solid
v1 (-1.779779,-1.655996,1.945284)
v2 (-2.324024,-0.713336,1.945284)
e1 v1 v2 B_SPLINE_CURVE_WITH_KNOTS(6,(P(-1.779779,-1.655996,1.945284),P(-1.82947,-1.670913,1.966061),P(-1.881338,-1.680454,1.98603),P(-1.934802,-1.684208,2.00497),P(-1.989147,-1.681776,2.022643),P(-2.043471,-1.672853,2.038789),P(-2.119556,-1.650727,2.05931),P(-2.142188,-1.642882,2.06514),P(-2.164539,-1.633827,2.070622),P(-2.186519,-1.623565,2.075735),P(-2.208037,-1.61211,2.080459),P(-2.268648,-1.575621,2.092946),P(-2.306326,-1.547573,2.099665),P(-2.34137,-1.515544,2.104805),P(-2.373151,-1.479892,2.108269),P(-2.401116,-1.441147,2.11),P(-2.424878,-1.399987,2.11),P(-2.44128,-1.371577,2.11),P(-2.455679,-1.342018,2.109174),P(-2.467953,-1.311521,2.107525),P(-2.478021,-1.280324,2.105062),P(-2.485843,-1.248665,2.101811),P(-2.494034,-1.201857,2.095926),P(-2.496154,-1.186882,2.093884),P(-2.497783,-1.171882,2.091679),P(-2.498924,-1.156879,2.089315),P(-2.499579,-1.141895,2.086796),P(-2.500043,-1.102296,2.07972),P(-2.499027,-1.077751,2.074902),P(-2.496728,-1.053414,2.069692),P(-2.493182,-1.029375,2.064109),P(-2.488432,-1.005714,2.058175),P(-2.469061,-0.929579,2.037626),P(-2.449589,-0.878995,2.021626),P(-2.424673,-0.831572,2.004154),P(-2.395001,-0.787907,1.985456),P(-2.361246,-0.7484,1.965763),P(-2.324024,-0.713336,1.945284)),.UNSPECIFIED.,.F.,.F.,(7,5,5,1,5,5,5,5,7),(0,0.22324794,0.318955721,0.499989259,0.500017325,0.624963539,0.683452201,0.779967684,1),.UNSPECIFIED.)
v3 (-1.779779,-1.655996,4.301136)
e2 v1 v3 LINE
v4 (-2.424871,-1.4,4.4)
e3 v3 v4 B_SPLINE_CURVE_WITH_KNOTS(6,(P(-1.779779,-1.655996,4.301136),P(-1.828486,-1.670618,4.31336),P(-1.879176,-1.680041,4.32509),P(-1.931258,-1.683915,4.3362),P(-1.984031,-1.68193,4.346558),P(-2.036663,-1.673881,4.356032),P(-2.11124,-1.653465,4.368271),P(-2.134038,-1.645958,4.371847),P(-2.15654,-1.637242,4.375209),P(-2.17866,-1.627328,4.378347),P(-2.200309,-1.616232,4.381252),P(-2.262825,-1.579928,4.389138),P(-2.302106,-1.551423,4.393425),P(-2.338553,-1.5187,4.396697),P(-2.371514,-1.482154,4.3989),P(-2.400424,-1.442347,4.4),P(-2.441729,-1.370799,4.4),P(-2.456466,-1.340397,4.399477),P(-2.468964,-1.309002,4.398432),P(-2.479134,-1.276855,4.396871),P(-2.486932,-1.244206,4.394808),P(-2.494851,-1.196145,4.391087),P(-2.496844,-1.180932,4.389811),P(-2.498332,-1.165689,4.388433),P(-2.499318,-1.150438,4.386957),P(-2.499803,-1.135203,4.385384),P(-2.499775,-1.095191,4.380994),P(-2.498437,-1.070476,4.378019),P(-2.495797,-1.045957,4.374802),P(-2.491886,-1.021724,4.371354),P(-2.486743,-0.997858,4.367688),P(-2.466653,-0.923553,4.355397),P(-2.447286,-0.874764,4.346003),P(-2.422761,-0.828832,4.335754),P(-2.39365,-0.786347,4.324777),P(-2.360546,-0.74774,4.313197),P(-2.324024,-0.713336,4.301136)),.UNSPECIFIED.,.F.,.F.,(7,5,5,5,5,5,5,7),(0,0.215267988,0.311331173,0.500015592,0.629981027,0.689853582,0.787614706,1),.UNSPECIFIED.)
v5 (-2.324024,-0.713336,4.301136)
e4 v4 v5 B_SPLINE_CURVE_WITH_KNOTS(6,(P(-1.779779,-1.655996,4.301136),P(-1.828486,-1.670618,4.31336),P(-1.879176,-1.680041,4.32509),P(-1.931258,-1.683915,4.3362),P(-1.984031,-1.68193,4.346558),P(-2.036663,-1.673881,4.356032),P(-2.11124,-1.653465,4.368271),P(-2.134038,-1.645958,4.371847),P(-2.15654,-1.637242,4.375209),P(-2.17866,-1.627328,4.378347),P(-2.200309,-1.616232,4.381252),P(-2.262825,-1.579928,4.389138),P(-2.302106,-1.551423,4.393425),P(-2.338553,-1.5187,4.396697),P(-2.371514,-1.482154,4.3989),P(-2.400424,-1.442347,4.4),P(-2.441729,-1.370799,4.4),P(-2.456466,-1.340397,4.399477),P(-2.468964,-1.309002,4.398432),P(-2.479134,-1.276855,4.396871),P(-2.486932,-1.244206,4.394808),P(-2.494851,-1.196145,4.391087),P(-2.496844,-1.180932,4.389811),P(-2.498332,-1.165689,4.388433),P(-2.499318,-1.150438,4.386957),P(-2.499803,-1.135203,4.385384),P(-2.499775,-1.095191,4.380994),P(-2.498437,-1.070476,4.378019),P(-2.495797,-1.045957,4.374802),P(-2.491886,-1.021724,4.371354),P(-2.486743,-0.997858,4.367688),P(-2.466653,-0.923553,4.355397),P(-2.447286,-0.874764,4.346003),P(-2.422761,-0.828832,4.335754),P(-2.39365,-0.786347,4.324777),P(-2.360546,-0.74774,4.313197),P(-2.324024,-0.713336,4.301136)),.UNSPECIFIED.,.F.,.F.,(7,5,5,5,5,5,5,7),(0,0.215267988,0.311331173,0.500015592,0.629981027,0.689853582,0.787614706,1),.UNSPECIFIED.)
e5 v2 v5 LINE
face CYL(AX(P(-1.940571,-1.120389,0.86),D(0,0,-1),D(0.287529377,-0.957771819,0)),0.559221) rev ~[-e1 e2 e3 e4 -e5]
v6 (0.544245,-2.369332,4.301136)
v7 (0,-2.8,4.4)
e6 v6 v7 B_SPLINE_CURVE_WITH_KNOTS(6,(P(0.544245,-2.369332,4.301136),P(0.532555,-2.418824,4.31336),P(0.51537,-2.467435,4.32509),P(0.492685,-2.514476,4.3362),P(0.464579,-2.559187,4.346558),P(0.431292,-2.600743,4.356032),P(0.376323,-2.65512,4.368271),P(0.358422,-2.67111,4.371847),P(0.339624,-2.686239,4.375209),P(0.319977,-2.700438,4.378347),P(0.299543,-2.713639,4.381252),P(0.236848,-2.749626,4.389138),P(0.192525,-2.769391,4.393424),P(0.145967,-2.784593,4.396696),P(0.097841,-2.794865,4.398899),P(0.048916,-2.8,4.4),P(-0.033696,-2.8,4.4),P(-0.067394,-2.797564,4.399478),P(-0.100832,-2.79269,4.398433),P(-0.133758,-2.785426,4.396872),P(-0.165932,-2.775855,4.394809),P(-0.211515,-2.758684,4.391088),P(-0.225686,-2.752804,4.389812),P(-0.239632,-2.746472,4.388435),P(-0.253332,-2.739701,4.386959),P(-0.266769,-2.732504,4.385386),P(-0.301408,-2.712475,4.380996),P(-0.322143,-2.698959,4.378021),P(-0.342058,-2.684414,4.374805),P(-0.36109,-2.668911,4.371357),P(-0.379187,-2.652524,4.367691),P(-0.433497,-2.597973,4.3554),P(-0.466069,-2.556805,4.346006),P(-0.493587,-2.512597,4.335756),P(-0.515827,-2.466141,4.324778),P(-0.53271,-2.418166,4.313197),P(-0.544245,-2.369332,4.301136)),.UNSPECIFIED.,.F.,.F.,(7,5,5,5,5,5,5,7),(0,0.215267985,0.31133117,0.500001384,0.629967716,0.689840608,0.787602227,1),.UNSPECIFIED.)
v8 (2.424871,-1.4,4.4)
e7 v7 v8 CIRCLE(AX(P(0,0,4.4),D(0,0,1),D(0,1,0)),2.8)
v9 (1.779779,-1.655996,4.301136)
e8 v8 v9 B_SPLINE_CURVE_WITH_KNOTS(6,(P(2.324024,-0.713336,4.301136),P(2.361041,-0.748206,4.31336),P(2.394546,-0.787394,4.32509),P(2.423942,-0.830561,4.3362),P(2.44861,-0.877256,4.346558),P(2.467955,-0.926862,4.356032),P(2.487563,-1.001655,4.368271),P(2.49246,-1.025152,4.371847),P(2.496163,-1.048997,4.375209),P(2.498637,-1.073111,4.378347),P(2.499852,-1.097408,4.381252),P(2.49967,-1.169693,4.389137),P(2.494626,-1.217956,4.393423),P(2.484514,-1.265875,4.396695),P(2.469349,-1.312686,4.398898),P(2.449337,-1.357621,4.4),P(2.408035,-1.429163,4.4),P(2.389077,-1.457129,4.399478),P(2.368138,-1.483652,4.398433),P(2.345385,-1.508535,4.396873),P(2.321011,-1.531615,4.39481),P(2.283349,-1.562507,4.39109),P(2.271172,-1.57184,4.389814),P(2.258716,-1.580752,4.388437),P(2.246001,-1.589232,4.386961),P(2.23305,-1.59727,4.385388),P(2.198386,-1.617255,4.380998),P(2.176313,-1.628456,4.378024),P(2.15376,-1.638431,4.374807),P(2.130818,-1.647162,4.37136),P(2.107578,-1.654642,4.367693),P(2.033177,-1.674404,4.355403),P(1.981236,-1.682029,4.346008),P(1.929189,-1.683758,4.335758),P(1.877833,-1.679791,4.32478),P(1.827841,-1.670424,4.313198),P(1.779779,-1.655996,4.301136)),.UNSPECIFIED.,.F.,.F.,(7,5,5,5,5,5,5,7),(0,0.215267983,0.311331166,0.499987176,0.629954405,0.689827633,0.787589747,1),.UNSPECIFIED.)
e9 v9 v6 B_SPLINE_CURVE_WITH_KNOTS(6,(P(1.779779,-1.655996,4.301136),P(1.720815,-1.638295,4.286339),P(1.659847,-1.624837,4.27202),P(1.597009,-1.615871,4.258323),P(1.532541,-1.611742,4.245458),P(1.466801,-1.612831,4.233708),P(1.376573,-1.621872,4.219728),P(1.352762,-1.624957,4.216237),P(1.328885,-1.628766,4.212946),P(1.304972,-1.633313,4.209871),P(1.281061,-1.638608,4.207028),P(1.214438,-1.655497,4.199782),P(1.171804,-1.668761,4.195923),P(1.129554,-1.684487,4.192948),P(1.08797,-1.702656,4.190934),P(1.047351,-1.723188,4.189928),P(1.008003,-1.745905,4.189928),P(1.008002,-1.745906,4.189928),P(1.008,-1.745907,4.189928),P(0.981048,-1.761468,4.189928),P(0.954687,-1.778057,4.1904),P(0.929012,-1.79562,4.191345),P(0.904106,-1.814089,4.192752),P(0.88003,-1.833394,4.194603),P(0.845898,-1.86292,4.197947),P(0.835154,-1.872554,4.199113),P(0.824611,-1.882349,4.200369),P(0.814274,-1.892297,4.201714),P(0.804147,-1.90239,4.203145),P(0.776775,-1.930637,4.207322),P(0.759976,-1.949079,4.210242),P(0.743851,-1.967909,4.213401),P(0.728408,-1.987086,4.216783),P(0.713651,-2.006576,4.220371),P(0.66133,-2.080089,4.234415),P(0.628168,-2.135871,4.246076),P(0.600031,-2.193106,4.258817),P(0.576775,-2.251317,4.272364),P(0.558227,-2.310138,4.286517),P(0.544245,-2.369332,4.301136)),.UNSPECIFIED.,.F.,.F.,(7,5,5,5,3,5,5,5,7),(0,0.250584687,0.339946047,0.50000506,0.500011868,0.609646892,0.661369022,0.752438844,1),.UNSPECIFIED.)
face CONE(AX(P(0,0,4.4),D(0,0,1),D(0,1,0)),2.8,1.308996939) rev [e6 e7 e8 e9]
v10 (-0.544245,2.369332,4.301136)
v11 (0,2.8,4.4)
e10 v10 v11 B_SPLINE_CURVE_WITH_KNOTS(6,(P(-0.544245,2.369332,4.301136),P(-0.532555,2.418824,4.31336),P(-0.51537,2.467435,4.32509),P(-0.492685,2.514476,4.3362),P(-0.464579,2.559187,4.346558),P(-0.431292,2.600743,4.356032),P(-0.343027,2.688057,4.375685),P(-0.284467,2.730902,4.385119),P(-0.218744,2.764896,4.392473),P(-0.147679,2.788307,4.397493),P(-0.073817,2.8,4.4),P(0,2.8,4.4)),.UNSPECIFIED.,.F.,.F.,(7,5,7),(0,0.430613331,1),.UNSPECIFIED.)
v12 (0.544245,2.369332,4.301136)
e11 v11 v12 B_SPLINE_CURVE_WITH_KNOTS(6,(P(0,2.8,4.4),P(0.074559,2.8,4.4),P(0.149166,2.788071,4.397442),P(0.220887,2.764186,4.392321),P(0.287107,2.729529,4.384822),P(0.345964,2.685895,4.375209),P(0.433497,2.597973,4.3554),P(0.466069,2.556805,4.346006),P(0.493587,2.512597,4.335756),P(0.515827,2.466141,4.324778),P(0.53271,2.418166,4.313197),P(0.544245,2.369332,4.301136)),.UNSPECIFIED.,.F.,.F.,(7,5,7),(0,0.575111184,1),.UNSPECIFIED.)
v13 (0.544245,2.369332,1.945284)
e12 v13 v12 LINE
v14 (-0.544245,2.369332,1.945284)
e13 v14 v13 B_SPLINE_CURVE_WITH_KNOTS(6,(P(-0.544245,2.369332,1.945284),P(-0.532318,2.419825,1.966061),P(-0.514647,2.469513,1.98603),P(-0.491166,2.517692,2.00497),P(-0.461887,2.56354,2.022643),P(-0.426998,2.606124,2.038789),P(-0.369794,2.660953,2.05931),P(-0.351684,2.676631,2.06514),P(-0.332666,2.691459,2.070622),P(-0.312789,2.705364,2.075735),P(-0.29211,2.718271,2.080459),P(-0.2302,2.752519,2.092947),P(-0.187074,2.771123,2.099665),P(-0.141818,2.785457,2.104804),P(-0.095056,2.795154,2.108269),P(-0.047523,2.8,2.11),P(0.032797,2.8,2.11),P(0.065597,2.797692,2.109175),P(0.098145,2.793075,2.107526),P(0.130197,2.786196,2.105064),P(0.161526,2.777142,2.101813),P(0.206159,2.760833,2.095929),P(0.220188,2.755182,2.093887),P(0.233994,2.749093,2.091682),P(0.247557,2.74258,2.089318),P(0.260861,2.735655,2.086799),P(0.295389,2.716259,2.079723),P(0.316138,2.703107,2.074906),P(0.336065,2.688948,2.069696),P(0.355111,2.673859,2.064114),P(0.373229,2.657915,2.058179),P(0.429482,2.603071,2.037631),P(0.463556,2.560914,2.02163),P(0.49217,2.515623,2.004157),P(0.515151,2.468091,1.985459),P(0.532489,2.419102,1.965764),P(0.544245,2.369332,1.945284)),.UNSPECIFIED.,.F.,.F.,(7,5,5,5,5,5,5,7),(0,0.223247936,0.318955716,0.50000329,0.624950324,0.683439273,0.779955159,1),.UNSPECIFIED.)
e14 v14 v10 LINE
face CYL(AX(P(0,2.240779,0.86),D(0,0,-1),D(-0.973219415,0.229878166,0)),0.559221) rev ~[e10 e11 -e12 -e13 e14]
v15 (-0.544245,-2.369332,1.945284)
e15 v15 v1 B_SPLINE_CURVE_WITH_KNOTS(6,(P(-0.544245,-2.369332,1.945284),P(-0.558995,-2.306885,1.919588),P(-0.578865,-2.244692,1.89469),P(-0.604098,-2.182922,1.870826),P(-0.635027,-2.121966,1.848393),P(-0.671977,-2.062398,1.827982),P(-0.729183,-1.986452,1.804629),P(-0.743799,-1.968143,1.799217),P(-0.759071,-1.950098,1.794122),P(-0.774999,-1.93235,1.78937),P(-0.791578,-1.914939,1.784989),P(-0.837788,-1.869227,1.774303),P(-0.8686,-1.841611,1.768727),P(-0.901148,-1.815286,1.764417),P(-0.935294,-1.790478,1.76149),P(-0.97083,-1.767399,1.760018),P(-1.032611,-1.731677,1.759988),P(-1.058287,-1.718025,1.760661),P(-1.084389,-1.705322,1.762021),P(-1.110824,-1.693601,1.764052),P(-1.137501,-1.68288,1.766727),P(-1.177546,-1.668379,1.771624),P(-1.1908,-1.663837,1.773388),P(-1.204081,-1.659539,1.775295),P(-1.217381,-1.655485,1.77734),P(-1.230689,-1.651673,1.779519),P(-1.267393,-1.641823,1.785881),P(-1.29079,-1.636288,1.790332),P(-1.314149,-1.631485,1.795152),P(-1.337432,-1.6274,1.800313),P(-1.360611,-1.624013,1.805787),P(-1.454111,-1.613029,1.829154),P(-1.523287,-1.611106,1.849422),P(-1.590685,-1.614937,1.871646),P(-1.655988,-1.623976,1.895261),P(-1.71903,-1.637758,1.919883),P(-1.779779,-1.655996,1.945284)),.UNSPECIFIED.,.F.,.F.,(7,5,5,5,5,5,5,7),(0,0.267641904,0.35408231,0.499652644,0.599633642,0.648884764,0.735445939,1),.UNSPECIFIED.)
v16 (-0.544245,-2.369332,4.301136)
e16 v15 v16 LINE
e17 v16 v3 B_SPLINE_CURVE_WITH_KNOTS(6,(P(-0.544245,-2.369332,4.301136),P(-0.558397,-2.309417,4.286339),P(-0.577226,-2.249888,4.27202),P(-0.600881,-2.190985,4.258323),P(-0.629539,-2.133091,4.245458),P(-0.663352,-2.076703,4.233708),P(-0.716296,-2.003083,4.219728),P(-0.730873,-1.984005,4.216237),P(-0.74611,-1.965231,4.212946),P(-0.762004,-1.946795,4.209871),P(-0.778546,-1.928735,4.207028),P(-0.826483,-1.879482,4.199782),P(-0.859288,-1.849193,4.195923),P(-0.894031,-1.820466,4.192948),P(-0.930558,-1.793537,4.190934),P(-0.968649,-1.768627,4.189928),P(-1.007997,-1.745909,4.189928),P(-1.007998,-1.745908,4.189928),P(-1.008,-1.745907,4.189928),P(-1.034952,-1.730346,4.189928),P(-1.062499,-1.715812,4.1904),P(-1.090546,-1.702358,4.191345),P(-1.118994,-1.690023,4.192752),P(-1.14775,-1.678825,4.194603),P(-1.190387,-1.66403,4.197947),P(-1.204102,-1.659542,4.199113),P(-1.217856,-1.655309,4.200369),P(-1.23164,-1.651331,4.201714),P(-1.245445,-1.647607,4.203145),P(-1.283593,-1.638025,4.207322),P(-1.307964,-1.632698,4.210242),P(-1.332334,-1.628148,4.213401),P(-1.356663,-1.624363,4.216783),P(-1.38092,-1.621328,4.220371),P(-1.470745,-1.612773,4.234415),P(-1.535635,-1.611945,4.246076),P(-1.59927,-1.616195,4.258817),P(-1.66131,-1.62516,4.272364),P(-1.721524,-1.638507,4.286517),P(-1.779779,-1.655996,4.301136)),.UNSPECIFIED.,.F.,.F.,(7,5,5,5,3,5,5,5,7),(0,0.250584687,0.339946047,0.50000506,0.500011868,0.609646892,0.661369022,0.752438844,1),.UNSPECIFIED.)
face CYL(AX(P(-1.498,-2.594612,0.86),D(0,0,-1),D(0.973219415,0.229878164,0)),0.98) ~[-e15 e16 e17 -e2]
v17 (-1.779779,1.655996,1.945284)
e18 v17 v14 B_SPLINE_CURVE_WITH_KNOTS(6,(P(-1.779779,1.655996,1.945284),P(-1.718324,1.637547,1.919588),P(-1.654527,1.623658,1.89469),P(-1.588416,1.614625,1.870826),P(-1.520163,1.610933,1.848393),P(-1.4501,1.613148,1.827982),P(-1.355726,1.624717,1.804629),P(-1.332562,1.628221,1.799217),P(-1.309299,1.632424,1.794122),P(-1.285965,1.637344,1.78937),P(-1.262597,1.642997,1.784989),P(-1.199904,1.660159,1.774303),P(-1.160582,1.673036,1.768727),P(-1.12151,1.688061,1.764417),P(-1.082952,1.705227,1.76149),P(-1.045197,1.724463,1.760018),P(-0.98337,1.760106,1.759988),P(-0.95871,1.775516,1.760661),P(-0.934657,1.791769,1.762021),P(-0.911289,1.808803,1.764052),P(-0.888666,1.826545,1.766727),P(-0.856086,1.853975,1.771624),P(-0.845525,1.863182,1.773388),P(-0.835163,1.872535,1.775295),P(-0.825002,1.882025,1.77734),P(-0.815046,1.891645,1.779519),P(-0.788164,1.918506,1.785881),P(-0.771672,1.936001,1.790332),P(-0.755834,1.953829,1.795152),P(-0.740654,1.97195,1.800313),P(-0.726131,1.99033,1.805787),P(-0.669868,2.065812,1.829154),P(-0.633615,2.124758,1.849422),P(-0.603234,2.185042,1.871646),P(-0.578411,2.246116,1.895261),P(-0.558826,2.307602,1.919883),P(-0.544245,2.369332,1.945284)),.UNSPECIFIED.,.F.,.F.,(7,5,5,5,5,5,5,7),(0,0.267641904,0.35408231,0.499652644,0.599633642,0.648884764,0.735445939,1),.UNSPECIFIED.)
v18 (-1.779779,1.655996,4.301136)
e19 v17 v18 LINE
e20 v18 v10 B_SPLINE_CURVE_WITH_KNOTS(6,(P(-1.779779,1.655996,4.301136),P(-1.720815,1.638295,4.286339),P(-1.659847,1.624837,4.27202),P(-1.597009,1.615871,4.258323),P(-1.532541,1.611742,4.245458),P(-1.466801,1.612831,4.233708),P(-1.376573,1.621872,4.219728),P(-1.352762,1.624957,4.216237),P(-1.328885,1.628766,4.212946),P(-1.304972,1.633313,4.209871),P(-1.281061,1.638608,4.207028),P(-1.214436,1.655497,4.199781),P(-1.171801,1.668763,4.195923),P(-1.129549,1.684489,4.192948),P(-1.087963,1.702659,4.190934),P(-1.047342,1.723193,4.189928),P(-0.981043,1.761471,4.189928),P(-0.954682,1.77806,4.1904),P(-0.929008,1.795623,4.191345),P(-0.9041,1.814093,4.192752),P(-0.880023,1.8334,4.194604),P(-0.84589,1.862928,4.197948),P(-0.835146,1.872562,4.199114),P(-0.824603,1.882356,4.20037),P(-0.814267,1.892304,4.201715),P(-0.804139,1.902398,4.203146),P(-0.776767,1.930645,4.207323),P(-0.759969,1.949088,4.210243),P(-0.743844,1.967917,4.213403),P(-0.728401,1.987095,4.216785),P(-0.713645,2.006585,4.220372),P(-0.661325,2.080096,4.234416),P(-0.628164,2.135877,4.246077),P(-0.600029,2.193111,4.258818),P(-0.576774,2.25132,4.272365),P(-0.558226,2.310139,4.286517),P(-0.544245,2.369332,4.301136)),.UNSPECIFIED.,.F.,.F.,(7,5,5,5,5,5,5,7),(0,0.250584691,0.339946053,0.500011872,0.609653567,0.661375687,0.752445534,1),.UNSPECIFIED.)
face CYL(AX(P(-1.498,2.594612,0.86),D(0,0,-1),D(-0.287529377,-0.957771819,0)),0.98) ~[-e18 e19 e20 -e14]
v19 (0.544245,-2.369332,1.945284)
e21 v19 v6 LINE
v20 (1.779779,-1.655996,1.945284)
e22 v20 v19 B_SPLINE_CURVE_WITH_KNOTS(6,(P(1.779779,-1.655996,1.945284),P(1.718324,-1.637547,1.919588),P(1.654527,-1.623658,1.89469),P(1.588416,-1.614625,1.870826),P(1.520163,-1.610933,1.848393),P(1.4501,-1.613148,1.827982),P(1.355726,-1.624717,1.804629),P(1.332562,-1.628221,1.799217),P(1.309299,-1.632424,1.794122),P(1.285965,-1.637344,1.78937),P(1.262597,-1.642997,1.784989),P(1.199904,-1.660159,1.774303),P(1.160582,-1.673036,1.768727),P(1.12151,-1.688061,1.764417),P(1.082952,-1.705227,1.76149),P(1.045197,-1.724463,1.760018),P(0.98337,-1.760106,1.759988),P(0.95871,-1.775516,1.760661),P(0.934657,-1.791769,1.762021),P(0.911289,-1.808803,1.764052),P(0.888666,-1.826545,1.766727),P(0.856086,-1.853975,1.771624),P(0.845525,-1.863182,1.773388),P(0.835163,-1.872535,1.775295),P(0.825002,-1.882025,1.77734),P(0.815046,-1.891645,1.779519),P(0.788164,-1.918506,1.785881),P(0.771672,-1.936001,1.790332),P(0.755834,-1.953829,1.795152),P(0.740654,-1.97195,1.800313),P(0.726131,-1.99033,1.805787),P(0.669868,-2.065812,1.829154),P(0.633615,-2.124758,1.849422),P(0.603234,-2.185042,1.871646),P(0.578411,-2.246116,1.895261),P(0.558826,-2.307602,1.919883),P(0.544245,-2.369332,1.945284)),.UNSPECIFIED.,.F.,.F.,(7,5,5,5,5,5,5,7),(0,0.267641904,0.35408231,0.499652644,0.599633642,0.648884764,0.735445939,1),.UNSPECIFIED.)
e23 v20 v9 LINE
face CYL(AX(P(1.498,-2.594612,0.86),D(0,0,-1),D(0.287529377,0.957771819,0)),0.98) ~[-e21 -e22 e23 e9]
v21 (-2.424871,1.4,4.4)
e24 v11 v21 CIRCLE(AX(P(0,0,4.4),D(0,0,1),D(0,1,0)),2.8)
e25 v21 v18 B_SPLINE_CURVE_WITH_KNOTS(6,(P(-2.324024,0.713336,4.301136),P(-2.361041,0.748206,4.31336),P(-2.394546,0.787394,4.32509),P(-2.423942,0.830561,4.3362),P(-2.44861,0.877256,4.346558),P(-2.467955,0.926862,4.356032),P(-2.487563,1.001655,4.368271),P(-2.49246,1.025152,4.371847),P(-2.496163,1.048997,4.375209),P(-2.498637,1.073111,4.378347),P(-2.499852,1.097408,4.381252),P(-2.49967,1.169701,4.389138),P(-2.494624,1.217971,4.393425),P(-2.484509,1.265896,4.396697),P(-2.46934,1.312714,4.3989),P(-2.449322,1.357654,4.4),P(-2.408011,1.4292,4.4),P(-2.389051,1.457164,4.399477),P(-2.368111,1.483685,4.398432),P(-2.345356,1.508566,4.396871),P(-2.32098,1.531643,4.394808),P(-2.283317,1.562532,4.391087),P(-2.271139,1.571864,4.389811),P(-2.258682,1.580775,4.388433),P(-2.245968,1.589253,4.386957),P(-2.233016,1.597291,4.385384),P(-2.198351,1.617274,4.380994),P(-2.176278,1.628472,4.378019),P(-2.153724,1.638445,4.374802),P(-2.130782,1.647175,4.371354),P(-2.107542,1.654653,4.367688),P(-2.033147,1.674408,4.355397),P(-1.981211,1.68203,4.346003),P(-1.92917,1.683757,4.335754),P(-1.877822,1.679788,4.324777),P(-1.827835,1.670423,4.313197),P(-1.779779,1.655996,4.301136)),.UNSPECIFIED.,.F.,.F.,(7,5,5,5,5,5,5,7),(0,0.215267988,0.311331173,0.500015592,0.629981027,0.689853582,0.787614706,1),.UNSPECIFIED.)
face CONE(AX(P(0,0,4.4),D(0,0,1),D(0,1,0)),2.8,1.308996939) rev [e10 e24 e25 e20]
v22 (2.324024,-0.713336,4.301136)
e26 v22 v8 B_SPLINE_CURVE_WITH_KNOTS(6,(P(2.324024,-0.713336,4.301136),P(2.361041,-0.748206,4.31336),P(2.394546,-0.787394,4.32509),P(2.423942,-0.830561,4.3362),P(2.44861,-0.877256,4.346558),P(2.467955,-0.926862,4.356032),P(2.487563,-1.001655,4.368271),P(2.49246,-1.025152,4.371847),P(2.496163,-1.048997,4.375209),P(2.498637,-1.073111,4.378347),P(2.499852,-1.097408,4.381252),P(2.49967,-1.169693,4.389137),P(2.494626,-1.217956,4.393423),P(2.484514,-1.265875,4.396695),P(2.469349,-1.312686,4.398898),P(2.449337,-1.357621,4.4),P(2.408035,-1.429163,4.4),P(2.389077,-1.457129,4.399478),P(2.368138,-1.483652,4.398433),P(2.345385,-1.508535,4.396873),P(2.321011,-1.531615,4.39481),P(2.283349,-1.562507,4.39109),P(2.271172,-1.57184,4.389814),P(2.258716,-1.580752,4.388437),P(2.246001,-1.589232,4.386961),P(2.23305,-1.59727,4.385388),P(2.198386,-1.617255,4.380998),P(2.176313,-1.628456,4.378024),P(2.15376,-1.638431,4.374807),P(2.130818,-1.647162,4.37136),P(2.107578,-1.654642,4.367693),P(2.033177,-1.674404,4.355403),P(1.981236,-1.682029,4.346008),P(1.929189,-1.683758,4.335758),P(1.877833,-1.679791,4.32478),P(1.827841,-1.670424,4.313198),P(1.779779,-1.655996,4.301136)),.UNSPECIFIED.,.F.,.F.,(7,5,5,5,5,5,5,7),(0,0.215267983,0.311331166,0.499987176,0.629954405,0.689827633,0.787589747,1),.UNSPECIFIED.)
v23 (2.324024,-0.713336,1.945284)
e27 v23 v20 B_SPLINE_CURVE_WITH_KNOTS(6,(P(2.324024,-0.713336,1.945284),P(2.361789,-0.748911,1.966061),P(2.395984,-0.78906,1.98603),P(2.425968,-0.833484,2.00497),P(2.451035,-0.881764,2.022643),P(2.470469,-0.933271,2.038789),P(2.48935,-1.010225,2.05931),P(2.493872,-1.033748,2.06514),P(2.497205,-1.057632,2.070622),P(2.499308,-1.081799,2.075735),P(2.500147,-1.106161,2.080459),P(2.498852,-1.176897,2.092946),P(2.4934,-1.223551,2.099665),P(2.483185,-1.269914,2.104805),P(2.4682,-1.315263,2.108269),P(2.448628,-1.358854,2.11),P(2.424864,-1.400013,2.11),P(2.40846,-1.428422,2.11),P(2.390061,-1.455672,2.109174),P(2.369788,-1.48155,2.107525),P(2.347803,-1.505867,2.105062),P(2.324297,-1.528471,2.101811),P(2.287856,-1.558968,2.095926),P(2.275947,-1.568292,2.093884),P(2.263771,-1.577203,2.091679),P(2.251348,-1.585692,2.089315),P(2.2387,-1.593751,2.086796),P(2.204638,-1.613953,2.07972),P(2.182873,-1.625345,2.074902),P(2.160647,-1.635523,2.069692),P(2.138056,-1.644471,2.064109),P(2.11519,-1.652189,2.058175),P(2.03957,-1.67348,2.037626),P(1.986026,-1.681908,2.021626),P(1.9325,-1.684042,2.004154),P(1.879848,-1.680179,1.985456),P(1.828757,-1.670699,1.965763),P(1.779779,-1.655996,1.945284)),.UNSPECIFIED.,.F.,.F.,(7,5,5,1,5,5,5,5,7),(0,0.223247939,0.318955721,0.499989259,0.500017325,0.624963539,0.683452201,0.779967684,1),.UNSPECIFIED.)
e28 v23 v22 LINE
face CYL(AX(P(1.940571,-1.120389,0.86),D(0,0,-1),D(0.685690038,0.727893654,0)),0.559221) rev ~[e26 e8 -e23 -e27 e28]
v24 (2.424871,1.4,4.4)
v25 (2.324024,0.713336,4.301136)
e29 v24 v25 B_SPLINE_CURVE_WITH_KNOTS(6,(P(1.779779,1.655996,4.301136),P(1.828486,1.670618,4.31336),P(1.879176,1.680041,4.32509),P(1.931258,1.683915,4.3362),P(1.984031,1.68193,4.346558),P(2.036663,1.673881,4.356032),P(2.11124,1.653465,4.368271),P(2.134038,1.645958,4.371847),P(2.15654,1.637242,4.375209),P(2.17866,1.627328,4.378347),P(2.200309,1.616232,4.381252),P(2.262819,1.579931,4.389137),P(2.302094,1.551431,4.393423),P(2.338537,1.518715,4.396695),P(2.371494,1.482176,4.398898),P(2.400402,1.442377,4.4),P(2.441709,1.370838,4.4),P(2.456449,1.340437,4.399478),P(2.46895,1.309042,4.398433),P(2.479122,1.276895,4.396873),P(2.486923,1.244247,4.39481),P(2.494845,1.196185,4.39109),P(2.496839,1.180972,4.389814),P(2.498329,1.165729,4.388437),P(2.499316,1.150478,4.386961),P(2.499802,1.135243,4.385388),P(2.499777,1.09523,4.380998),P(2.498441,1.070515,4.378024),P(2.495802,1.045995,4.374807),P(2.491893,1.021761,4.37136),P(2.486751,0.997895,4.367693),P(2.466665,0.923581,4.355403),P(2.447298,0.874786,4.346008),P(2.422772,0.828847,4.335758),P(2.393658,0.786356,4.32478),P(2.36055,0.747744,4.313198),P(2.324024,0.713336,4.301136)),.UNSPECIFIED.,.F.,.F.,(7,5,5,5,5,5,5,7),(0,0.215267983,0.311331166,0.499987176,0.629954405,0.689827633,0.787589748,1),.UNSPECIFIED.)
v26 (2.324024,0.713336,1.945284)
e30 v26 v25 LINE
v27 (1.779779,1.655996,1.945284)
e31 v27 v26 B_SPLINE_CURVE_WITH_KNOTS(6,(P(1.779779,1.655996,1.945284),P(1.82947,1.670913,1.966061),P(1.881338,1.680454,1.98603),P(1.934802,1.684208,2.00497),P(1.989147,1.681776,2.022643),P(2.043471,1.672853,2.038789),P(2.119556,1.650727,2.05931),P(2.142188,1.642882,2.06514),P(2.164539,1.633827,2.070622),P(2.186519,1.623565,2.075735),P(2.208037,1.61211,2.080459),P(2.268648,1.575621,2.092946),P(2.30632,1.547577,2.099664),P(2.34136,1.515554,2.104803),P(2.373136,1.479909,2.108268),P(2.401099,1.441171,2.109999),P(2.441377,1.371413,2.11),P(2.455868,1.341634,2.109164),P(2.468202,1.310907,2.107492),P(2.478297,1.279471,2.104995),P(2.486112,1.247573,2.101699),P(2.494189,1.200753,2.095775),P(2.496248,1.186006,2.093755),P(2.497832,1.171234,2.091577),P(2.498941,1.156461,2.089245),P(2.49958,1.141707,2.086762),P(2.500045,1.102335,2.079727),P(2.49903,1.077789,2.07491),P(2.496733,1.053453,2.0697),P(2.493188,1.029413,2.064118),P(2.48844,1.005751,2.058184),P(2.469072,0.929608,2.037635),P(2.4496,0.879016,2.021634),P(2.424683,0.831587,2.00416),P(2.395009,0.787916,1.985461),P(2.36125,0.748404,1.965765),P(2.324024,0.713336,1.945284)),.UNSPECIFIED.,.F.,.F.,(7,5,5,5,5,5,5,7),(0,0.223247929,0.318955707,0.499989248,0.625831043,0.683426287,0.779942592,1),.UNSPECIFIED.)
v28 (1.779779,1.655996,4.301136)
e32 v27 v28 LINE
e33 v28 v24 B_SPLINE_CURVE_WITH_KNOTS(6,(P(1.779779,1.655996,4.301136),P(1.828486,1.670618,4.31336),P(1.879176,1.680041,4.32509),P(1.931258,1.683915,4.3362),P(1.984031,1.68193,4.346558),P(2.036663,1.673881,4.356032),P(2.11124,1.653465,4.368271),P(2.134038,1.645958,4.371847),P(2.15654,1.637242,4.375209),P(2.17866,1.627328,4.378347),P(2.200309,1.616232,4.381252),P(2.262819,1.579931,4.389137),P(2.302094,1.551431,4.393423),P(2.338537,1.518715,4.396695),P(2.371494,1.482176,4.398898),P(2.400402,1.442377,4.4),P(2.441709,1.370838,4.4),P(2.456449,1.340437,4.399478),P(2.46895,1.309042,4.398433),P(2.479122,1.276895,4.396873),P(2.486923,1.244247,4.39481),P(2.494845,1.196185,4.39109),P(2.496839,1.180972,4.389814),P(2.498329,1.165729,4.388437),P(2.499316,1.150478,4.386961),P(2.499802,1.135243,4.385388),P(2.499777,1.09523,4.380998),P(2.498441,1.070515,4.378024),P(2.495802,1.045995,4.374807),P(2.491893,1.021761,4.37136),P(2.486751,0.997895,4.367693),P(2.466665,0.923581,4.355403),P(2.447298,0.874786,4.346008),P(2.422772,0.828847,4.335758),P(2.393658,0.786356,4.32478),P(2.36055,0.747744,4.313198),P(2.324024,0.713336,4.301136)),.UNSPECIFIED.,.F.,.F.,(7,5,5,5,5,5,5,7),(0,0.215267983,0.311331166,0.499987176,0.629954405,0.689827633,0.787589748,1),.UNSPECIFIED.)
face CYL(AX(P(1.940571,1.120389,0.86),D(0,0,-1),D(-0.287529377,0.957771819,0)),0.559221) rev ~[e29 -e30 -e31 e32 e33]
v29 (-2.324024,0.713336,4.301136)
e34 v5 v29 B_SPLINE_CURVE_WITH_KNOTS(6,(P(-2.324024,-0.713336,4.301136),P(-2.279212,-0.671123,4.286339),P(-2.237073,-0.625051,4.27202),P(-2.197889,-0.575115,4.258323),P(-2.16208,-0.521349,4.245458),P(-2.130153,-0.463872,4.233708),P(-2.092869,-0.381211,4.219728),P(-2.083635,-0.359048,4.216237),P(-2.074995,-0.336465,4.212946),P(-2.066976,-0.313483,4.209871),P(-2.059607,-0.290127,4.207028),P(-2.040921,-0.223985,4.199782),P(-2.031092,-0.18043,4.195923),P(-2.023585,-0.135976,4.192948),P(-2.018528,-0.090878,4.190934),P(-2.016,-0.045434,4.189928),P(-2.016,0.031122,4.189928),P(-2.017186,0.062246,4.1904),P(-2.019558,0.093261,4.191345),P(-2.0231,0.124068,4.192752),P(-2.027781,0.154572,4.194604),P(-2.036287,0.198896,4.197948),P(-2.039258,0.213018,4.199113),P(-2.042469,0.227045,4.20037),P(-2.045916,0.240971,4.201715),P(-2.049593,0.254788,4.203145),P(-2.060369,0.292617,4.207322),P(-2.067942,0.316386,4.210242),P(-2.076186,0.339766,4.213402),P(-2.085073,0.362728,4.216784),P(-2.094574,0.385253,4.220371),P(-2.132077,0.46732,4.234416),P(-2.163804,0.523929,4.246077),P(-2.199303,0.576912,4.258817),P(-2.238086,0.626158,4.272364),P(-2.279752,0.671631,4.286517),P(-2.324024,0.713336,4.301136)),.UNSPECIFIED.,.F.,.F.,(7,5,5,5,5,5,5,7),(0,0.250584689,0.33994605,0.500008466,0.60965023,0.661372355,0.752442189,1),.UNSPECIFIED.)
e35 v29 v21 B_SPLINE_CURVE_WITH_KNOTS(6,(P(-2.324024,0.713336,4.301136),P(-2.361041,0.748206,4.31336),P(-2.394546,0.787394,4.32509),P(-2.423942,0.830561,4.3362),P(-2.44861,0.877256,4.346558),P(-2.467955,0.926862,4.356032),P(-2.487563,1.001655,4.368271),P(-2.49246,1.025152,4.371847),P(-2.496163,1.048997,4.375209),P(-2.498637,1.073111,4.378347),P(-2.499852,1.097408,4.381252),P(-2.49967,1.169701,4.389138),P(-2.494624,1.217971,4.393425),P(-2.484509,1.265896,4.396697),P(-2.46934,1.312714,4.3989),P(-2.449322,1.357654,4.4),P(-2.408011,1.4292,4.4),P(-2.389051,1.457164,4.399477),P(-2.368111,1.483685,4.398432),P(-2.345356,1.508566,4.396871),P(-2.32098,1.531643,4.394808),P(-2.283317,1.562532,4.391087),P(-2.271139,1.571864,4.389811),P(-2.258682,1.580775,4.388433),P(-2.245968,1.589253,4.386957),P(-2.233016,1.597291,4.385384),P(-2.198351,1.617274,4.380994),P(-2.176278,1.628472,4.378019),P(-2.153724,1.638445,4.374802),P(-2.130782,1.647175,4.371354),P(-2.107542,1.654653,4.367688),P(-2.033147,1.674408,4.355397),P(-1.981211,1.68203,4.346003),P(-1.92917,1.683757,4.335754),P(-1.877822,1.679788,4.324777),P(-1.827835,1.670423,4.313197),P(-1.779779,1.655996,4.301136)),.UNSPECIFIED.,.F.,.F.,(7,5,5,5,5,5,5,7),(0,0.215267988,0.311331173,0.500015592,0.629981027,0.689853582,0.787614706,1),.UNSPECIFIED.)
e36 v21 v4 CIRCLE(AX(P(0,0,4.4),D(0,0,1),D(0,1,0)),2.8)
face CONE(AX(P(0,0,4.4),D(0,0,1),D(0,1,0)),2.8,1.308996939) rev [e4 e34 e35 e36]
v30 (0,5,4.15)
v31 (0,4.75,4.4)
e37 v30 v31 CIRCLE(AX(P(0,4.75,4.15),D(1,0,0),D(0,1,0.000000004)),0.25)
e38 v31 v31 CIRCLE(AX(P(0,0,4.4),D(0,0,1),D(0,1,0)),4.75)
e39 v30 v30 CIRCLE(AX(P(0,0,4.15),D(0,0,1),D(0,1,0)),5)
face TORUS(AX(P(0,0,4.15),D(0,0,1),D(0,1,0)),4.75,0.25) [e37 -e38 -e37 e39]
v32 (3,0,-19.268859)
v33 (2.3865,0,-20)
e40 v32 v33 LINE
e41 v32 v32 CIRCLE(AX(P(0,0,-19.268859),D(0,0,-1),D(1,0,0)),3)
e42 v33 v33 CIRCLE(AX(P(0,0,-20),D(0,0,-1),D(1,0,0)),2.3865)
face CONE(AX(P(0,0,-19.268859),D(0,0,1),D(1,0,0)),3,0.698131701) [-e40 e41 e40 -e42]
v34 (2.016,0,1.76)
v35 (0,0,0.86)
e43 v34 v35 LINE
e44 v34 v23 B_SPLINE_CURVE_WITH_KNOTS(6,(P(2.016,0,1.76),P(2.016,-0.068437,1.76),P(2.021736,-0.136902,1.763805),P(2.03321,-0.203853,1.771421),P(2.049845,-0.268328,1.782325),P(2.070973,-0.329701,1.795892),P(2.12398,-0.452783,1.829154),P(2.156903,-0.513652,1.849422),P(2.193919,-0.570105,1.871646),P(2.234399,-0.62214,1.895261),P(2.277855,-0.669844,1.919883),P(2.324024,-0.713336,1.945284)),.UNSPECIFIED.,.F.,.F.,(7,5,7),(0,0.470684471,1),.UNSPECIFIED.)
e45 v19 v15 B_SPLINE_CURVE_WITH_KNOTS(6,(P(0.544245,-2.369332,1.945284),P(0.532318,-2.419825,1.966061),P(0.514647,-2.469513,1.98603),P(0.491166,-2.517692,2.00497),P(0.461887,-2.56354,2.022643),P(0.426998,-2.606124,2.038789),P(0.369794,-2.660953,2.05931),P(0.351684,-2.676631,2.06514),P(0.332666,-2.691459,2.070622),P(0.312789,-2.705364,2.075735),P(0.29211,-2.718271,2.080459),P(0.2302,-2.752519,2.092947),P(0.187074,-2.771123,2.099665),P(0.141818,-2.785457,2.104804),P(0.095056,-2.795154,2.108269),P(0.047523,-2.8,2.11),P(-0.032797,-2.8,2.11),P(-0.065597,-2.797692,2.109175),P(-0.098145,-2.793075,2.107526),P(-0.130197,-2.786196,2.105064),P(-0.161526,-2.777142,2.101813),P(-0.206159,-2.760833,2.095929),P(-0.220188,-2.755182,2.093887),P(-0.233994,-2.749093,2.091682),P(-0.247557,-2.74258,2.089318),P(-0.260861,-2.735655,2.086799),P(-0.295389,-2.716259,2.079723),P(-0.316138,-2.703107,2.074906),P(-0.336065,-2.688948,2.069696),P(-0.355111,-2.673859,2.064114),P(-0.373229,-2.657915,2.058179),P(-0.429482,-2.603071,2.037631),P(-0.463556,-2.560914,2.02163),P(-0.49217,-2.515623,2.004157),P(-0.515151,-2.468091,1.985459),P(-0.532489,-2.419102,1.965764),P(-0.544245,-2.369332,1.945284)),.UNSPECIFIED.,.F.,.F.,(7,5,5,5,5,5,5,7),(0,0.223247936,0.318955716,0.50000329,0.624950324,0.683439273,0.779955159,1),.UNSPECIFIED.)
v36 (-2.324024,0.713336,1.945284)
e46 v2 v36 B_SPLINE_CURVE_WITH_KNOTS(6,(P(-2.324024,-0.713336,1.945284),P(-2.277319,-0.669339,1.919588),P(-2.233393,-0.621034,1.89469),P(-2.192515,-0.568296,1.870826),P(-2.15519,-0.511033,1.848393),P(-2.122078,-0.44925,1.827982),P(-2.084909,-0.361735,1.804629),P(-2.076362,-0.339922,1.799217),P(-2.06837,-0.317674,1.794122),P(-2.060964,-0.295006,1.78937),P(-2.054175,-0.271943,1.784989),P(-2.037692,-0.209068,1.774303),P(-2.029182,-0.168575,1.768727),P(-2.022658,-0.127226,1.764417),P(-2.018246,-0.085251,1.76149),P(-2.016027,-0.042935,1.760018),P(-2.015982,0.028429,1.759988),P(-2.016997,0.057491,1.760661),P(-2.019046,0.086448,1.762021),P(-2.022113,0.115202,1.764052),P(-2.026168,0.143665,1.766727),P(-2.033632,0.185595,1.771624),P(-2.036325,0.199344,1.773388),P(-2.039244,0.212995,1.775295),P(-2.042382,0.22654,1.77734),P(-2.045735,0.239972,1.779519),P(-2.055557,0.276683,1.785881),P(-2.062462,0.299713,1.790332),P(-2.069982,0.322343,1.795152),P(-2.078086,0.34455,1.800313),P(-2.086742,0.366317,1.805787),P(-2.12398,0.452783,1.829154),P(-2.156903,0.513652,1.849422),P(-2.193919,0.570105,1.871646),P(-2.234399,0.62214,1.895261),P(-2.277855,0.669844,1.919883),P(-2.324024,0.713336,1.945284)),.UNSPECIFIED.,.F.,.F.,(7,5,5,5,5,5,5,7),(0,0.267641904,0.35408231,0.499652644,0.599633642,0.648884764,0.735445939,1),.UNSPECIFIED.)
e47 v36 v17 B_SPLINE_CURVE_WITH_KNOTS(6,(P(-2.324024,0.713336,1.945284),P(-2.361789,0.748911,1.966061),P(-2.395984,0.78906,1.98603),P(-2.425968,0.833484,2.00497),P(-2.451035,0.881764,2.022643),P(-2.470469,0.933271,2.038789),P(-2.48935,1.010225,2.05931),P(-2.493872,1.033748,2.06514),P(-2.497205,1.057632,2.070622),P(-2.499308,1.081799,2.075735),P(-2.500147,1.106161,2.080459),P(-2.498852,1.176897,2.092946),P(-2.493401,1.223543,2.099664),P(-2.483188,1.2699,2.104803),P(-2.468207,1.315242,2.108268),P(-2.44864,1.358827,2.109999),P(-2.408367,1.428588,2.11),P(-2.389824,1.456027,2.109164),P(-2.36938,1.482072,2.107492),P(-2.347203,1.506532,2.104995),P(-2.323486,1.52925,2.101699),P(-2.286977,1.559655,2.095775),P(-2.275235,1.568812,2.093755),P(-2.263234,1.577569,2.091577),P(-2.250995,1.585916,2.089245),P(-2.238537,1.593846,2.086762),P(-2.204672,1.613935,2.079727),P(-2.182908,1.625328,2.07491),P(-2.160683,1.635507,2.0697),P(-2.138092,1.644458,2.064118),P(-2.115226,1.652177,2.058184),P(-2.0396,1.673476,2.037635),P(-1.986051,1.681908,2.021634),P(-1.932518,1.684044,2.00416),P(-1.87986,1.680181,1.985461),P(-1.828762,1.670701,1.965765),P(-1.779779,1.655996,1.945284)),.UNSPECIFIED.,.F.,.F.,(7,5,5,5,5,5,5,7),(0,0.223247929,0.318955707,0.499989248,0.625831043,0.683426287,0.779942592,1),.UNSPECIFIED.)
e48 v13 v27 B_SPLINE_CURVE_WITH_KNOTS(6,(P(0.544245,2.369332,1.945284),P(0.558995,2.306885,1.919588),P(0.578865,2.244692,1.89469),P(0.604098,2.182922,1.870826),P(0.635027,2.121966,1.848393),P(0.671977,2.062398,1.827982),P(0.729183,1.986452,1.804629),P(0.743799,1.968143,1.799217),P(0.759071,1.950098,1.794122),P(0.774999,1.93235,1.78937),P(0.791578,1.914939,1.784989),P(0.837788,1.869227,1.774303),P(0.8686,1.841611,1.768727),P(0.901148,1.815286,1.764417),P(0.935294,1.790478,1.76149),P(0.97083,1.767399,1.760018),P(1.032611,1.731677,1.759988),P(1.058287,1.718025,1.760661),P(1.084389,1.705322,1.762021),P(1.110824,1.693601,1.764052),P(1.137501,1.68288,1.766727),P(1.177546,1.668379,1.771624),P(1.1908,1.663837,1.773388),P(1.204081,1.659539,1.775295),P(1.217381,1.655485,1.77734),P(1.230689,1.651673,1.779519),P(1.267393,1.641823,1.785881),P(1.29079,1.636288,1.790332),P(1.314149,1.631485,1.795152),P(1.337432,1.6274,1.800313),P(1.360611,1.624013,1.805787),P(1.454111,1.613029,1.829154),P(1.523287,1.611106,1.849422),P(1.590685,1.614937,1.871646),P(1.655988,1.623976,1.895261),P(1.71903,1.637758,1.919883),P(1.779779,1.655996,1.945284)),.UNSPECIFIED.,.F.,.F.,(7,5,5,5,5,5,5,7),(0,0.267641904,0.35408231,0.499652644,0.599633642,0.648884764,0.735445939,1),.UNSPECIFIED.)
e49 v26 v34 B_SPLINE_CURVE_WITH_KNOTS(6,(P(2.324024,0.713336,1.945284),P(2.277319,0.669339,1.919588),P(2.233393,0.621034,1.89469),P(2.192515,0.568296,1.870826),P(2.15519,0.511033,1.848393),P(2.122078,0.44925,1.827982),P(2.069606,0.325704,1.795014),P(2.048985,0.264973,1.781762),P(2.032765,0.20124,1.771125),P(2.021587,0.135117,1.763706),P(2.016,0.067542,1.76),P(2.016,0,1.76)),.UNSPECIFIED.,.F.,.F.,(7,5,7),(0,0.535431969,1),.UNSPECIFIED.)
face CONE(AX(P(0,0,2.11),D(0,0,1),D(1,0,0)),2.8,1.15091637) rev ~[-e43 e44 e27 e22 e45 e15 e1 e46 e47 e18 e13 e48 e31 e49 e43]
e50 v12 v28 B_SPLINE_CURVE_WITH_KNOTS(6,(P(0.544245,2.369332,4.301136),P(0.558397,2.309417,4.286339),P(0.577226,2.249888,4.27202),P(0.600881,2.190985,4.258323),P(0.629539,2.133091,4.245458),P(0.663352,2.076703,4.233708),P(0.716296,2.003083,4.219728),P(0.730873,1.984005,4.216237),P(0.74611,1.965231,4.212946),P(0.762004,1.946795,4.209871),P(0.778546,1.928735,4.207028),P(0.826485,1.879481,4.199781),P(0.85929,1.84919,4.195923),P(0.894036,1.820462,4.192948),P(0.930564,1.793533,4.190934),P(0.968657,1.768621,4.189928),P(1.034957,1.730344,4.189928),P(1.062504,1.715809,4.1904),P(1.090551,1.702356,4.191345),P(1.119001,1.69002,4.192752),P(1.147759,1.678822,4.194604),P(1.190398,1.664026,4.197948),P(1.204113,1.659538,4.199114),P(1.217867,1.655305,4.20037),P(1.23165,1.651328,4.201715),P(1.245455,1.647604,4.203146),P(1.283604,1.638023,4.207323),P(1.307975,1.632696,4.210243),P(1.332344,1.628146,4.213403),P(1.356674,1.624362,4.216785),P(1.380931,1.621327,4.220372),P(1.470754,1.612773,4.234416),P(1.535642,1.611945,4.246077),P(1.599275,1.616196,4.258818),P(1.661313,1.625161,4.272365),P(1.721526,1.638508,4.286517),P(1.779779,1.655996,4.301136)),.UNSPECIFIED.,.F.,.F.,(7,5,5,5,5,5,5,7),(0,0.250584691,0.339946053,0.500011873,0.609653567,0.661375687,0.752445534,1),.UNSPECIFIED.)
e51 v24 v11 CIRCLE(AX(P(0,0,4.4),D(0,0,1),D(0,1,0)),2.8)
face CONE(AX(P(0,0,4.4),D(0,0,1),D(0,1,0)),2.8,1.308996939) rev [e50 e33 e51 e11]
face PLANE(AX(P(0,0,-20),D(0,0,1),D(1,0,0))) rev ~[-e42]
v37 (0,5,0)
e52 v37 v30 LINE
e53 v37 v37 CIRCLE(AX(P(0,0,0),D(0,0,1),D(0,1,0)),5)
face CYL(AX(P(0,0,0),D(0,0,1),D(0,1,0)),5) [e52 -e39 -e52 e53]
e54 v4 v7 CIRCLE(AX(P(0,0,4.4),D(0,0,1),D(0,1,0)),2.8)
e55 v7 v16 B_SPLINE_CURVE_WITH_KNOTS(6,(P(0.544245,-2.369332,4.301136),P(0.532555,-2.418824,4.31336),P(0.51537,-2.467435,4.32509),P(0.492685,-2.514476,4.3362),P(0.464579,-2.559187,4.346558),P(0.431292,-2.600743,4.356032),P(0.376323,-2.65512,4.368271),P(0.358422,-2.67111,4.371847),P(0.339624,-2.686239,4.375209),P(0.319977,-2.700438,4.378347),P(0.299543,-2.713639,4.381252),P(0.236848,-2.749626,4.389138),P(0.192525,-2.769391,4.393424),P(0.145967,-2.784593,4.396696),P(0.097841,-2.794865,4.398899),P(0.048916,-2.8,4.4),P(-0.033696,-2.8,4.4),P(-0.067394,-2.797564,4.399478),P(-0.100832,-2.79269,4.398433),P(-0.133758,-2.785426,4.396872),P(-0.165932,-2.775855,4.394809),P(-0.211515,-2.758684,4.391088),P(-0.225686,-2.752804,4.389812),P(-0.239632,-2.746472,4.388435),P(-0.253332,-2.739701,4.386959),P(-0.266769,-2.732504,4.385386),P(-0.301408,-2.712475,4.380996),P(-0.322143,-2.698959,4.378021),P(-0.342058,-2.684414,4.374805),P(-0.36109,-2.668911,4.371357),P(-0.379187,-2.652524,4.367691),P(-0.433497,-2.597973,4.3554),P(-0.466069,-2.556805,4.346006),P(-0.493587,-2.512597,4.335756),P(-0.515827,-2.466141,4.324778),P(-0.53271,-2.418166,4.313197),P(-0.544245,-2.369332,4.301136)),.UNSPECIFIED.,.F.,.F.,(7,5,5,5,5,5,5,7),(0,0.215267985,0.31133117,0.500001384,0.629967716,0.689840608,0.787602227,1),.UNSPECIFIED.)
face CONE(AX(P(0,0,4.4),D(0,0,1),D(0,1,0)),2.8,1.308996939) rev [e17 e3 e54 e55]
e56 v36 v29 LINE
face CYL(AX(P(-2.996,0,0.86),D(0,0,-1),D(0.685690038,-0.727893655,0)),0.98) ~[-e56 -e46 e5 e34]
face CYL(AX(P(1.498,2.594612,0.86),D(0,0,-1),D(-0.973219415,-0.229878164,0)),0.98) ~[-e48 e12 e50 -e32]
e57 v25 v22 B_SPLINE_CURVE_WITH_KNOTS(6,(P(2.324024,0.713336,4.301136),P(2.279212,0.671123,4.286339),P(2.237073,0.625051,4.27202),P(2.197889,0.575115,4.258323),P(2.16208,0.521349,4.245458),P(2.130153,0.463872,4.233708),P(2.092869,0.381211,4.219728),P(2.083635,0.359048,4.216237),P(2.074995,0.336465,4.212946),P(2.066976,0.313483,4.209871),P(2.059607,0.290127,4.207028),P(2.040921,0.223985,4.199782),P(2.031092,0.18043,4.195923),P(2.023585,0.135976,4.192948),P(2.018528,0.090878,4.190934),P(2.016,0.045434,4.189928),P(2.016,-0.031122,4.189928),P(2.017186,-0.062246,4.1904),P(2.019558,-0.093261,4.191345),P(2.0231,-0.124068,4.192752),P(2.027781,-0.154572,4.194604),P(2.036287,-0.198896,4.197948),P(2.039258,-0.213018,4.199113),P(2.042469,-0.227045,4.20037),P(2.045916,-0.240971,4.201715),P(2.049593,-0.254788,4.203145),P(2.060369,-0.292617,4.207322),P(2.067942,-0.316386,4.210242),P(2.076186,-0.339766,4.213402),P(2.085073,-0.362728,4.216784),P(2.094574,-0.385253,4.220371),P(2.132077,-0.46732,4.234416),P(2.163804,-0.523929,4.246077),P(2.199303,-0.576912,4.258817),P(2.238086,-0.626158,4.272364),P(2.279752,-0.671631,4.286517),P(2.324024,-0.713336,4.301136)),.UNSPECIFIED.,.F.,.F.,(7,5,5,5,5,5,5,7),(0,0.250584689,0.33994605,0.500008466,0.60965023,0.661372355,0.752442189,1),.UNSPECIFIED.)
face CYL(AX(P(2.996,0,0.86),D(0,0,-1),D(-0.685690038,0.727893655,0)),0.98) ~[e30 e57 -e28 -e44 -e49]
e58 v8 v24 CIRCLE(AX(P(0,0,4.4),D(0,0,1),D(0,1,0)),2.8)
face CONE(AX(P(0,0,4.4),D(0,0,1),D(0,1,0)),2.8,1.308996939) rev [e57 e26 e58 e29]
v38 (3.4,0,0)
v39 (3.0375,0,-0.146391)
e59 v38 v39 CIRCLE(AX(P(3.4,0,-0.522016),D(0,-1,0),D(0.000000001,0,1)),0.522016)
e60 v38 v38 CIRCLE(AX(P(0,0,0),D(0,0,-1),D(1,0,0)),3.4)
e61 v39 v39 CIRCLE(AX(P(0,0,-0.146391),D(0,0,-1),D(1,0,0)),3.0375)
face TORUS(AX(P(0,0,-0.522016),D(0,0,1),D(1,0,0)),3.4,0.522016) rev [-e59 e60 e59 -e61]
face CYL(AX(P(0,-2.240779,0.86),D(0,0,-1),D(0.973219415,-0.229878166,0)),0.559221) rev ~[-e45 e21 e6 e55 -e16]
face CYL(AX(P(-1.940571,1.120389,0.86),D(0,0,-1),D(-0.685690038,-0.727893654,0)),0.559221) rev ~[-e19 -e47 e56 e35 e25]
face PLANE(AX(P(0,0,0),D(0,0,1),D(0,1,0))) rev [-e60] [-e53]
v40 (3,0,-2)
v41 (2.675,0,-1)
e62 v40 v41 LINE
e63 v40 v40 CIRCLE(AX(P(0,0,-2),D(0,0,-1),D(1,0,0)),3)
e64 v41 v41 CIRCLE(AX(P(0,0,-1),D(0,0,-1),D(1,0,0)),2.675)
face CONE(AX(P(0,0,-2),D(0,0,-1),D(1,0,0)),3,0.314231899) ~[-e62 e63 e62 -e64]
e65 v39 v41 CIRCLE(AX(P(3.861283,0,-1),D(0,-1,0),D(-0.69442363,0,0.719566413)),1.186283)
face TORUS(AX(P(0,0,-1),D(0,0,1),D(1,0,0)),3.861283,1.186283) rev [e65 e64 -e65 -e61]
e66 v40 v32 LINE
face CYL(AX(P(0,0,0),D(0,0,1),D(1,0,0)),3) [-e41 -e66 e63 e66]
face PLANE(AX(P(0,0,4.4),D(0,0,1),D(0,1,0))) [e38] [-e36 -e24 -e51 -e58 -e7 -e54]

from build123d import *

# Parameters (mm, degrees)
SOCKET_CUT_EXTRUDE1_START  = -3.54
SOCKET_CUT_EXTRUDE1_DEPTH  = 3.54
SKETCH13_R                 = 3
LENGTH_BOSS_EXTRUDE1_DEPTH = 20


with BuildPart() as part:
    # Sketch8 → Head-Revolve1 (revolve)
    with BuildSketch(Plane(origin=(0, 0, 0), x_dir=(0, 0, -1), z_dir=(1, 0, 0))):
        with BuildLine():
            Line((-4.4, 4.75), (-4.4, 2.8))
            Line((-4.4, 2.8), (-4.189927833, 2.016))
            Line((-4.189927833, 2.016), (-4.189927833, 0))
            Line((-4.189927833, 0), (0, 0))
            Line((0, 0), (0, 5))
            Line((0, 5), (-4.15, 5))
            ThreePointArc((-4.15, 5), (-4.326776695, 4.926776695), (-4.4, 4.75))
        make_face()
    revolve(axis=Axis((0, 0, 0), (0, 0, 1)))

    # Sketch9 → socket-Cut-Extrude1 (cut)
    with BuildSketch(Plane.XY.offset(4.4).offset(SOCKET_CUT_EXTRUDE1_START)):
        with BuildLine():
            ThreePointArc((0.544244974, 2.369331508), (1.008, 1.745907214), (1.779778789, 1.655995727))
            ThreePointArc((1.779778789, 1.655995727), (2.424871131, 1.4), (2.324023763, 0.713335781))
            ThreePointArc((2.324023763, 0.713335781), (2.016, 0), (2.324023763, -0.713335781))
            ThreePointArc((2.324023763, -0.713335781), (2.424871131, -1.4), (1.779778789, -1.655995727))
            ThreePointArc((1.779778789, -1.655995727), (1.008, -1.745907214), (0.544244974, -2.369331508))
            ThreePointArc((0.544244974, -2.369331508), (0, -2.8), (-0.544244974, -2.369331508))
            ThreePointArc((-0.544244974, -2.369331508), (-1.008, -1.745907214), (-1.779778789, -1.655995727))
            ThreePointArc((-1.779778789, -1.655995727), (-2.424871131, -1.4), (-2.324023763, -0.713335781))
            ThreePointArc((-2.324023763, -0.713335781), (-2.016, 0), (-2.324023763, 0.713335781))
            ThreePointArc((-2.324023763, 0.713335781), (-2.424871131, 1.4), (-1.779778789, 1.655995727))
            ThreePointArc((-1.779778789, 1.655995727), (-1.008, 1.745907214), (-0.544244974, 2.369331508))
            ThreePointArc((-0.544244974, 2.369331508), (0, 2.8), (0.544244974, 2.369331508))
        make_face()
    extrude(amount=SOCKET_CUT_EXTRUDE1_DEPTH, mode=Mode.SUBTRACT)

    # Sketch12 → Socket-Revolve2 (revolve)
    with BuildSketch(Plane(origin=(0, 0, 0), x_dir=(0, 0, -1), z_dir=(1, 0, 0)), mode=Mode.PRIVATE) as socket_revolve2_sk:
        Polygon((-2.11, 5), (-2.11, 2.8), (-0.86, 0), (0, 0), (0, 5), align=None)
    revolve(socket_revolve2_sk.sketch.rotate(Axis((0, 0, 0), (0, 0, -1)), 90), axis=Axis((0, 0, 0), (0, 0, -1)))

    # Sketch13 → Length-Boss-Extrude1 (add)
    with BuildSketch(Plane.XY):
        Circle(SKETCH13_R)
    extrude(amount=-LENGTH_BOSS_EXTRUDE1_DEPTH)

    # Sketch14 → Runout-Cut-Revolve1 (revolve, cut)
    with BuildSketch(Plane(origin=(0, 0, 0), x_dir=(0, 0, -1), z_dir=(1, 0, 0)), mode=Mode.PRIVATE) as runout_cut_revolve1_sk:
        Polygon((0, 3), (2, 3), (1, 2.675), (0, 2.675), align=None)
    revolve(runout_cut_revolve1_sk.sketch.rotate(Axis((0, 0, 0), (0, 0, -1)), 90), axis=Axis((0, 0, 0), (0, 0, -1)), mode=Mode.SUBTRACT)

    # Sketch15 → Fillet-Revolve3 (revolve)
    with BuildSketch(Plane(origin=(0, 0, 0), x_dir=(0, 0, -1), z_dir=(1, 0, 0)), mode=Mode.PRIVATE) as fillet_revolve3_sk:
        with BuildLine():
            ThreePointArc((0.146390721, 3.0375), (0.536304234, 2.769379359), (1, 2.675))
            Line((1, 2.675), (0, 2.675))
            Line((0, 2.675), (0, 3.4))
            ThreePointArc((0, 3.4), (0.037979272, 3.204528459), (0.146390721, 3.0375))
        make_face()
    revolve(fillet_revolve3_sk.sketch.rotate(Axis((0, 0, 0), (0, 0, -1)), 90), axis=Axis((0, 0, 0), (0, 0, -1)))

    # Sketch16 → Chamfer-Cut-Revolve2 (revolve, cut)
    with BuildSketch(Plane(origin=(0, 0, 0), x_dir=(0, 0, -1), z_dir=(1, 0, 0)), mode=Mode.PRIVATE) as chamfer_cut_revolve2_sk:
        Polygon((20, 3), (19.268859171, 3), (20, 2.3865), align=None)
    revolve(chamfer_cut_revolve2_sk.sketch.rotate(Axis((0, 0, 0), (0, 0, -1)), 90), axis=Axis((0, 0, 0), (0, 0, -1)), mode=Mode.SUBTRACT)


solid = part.part
